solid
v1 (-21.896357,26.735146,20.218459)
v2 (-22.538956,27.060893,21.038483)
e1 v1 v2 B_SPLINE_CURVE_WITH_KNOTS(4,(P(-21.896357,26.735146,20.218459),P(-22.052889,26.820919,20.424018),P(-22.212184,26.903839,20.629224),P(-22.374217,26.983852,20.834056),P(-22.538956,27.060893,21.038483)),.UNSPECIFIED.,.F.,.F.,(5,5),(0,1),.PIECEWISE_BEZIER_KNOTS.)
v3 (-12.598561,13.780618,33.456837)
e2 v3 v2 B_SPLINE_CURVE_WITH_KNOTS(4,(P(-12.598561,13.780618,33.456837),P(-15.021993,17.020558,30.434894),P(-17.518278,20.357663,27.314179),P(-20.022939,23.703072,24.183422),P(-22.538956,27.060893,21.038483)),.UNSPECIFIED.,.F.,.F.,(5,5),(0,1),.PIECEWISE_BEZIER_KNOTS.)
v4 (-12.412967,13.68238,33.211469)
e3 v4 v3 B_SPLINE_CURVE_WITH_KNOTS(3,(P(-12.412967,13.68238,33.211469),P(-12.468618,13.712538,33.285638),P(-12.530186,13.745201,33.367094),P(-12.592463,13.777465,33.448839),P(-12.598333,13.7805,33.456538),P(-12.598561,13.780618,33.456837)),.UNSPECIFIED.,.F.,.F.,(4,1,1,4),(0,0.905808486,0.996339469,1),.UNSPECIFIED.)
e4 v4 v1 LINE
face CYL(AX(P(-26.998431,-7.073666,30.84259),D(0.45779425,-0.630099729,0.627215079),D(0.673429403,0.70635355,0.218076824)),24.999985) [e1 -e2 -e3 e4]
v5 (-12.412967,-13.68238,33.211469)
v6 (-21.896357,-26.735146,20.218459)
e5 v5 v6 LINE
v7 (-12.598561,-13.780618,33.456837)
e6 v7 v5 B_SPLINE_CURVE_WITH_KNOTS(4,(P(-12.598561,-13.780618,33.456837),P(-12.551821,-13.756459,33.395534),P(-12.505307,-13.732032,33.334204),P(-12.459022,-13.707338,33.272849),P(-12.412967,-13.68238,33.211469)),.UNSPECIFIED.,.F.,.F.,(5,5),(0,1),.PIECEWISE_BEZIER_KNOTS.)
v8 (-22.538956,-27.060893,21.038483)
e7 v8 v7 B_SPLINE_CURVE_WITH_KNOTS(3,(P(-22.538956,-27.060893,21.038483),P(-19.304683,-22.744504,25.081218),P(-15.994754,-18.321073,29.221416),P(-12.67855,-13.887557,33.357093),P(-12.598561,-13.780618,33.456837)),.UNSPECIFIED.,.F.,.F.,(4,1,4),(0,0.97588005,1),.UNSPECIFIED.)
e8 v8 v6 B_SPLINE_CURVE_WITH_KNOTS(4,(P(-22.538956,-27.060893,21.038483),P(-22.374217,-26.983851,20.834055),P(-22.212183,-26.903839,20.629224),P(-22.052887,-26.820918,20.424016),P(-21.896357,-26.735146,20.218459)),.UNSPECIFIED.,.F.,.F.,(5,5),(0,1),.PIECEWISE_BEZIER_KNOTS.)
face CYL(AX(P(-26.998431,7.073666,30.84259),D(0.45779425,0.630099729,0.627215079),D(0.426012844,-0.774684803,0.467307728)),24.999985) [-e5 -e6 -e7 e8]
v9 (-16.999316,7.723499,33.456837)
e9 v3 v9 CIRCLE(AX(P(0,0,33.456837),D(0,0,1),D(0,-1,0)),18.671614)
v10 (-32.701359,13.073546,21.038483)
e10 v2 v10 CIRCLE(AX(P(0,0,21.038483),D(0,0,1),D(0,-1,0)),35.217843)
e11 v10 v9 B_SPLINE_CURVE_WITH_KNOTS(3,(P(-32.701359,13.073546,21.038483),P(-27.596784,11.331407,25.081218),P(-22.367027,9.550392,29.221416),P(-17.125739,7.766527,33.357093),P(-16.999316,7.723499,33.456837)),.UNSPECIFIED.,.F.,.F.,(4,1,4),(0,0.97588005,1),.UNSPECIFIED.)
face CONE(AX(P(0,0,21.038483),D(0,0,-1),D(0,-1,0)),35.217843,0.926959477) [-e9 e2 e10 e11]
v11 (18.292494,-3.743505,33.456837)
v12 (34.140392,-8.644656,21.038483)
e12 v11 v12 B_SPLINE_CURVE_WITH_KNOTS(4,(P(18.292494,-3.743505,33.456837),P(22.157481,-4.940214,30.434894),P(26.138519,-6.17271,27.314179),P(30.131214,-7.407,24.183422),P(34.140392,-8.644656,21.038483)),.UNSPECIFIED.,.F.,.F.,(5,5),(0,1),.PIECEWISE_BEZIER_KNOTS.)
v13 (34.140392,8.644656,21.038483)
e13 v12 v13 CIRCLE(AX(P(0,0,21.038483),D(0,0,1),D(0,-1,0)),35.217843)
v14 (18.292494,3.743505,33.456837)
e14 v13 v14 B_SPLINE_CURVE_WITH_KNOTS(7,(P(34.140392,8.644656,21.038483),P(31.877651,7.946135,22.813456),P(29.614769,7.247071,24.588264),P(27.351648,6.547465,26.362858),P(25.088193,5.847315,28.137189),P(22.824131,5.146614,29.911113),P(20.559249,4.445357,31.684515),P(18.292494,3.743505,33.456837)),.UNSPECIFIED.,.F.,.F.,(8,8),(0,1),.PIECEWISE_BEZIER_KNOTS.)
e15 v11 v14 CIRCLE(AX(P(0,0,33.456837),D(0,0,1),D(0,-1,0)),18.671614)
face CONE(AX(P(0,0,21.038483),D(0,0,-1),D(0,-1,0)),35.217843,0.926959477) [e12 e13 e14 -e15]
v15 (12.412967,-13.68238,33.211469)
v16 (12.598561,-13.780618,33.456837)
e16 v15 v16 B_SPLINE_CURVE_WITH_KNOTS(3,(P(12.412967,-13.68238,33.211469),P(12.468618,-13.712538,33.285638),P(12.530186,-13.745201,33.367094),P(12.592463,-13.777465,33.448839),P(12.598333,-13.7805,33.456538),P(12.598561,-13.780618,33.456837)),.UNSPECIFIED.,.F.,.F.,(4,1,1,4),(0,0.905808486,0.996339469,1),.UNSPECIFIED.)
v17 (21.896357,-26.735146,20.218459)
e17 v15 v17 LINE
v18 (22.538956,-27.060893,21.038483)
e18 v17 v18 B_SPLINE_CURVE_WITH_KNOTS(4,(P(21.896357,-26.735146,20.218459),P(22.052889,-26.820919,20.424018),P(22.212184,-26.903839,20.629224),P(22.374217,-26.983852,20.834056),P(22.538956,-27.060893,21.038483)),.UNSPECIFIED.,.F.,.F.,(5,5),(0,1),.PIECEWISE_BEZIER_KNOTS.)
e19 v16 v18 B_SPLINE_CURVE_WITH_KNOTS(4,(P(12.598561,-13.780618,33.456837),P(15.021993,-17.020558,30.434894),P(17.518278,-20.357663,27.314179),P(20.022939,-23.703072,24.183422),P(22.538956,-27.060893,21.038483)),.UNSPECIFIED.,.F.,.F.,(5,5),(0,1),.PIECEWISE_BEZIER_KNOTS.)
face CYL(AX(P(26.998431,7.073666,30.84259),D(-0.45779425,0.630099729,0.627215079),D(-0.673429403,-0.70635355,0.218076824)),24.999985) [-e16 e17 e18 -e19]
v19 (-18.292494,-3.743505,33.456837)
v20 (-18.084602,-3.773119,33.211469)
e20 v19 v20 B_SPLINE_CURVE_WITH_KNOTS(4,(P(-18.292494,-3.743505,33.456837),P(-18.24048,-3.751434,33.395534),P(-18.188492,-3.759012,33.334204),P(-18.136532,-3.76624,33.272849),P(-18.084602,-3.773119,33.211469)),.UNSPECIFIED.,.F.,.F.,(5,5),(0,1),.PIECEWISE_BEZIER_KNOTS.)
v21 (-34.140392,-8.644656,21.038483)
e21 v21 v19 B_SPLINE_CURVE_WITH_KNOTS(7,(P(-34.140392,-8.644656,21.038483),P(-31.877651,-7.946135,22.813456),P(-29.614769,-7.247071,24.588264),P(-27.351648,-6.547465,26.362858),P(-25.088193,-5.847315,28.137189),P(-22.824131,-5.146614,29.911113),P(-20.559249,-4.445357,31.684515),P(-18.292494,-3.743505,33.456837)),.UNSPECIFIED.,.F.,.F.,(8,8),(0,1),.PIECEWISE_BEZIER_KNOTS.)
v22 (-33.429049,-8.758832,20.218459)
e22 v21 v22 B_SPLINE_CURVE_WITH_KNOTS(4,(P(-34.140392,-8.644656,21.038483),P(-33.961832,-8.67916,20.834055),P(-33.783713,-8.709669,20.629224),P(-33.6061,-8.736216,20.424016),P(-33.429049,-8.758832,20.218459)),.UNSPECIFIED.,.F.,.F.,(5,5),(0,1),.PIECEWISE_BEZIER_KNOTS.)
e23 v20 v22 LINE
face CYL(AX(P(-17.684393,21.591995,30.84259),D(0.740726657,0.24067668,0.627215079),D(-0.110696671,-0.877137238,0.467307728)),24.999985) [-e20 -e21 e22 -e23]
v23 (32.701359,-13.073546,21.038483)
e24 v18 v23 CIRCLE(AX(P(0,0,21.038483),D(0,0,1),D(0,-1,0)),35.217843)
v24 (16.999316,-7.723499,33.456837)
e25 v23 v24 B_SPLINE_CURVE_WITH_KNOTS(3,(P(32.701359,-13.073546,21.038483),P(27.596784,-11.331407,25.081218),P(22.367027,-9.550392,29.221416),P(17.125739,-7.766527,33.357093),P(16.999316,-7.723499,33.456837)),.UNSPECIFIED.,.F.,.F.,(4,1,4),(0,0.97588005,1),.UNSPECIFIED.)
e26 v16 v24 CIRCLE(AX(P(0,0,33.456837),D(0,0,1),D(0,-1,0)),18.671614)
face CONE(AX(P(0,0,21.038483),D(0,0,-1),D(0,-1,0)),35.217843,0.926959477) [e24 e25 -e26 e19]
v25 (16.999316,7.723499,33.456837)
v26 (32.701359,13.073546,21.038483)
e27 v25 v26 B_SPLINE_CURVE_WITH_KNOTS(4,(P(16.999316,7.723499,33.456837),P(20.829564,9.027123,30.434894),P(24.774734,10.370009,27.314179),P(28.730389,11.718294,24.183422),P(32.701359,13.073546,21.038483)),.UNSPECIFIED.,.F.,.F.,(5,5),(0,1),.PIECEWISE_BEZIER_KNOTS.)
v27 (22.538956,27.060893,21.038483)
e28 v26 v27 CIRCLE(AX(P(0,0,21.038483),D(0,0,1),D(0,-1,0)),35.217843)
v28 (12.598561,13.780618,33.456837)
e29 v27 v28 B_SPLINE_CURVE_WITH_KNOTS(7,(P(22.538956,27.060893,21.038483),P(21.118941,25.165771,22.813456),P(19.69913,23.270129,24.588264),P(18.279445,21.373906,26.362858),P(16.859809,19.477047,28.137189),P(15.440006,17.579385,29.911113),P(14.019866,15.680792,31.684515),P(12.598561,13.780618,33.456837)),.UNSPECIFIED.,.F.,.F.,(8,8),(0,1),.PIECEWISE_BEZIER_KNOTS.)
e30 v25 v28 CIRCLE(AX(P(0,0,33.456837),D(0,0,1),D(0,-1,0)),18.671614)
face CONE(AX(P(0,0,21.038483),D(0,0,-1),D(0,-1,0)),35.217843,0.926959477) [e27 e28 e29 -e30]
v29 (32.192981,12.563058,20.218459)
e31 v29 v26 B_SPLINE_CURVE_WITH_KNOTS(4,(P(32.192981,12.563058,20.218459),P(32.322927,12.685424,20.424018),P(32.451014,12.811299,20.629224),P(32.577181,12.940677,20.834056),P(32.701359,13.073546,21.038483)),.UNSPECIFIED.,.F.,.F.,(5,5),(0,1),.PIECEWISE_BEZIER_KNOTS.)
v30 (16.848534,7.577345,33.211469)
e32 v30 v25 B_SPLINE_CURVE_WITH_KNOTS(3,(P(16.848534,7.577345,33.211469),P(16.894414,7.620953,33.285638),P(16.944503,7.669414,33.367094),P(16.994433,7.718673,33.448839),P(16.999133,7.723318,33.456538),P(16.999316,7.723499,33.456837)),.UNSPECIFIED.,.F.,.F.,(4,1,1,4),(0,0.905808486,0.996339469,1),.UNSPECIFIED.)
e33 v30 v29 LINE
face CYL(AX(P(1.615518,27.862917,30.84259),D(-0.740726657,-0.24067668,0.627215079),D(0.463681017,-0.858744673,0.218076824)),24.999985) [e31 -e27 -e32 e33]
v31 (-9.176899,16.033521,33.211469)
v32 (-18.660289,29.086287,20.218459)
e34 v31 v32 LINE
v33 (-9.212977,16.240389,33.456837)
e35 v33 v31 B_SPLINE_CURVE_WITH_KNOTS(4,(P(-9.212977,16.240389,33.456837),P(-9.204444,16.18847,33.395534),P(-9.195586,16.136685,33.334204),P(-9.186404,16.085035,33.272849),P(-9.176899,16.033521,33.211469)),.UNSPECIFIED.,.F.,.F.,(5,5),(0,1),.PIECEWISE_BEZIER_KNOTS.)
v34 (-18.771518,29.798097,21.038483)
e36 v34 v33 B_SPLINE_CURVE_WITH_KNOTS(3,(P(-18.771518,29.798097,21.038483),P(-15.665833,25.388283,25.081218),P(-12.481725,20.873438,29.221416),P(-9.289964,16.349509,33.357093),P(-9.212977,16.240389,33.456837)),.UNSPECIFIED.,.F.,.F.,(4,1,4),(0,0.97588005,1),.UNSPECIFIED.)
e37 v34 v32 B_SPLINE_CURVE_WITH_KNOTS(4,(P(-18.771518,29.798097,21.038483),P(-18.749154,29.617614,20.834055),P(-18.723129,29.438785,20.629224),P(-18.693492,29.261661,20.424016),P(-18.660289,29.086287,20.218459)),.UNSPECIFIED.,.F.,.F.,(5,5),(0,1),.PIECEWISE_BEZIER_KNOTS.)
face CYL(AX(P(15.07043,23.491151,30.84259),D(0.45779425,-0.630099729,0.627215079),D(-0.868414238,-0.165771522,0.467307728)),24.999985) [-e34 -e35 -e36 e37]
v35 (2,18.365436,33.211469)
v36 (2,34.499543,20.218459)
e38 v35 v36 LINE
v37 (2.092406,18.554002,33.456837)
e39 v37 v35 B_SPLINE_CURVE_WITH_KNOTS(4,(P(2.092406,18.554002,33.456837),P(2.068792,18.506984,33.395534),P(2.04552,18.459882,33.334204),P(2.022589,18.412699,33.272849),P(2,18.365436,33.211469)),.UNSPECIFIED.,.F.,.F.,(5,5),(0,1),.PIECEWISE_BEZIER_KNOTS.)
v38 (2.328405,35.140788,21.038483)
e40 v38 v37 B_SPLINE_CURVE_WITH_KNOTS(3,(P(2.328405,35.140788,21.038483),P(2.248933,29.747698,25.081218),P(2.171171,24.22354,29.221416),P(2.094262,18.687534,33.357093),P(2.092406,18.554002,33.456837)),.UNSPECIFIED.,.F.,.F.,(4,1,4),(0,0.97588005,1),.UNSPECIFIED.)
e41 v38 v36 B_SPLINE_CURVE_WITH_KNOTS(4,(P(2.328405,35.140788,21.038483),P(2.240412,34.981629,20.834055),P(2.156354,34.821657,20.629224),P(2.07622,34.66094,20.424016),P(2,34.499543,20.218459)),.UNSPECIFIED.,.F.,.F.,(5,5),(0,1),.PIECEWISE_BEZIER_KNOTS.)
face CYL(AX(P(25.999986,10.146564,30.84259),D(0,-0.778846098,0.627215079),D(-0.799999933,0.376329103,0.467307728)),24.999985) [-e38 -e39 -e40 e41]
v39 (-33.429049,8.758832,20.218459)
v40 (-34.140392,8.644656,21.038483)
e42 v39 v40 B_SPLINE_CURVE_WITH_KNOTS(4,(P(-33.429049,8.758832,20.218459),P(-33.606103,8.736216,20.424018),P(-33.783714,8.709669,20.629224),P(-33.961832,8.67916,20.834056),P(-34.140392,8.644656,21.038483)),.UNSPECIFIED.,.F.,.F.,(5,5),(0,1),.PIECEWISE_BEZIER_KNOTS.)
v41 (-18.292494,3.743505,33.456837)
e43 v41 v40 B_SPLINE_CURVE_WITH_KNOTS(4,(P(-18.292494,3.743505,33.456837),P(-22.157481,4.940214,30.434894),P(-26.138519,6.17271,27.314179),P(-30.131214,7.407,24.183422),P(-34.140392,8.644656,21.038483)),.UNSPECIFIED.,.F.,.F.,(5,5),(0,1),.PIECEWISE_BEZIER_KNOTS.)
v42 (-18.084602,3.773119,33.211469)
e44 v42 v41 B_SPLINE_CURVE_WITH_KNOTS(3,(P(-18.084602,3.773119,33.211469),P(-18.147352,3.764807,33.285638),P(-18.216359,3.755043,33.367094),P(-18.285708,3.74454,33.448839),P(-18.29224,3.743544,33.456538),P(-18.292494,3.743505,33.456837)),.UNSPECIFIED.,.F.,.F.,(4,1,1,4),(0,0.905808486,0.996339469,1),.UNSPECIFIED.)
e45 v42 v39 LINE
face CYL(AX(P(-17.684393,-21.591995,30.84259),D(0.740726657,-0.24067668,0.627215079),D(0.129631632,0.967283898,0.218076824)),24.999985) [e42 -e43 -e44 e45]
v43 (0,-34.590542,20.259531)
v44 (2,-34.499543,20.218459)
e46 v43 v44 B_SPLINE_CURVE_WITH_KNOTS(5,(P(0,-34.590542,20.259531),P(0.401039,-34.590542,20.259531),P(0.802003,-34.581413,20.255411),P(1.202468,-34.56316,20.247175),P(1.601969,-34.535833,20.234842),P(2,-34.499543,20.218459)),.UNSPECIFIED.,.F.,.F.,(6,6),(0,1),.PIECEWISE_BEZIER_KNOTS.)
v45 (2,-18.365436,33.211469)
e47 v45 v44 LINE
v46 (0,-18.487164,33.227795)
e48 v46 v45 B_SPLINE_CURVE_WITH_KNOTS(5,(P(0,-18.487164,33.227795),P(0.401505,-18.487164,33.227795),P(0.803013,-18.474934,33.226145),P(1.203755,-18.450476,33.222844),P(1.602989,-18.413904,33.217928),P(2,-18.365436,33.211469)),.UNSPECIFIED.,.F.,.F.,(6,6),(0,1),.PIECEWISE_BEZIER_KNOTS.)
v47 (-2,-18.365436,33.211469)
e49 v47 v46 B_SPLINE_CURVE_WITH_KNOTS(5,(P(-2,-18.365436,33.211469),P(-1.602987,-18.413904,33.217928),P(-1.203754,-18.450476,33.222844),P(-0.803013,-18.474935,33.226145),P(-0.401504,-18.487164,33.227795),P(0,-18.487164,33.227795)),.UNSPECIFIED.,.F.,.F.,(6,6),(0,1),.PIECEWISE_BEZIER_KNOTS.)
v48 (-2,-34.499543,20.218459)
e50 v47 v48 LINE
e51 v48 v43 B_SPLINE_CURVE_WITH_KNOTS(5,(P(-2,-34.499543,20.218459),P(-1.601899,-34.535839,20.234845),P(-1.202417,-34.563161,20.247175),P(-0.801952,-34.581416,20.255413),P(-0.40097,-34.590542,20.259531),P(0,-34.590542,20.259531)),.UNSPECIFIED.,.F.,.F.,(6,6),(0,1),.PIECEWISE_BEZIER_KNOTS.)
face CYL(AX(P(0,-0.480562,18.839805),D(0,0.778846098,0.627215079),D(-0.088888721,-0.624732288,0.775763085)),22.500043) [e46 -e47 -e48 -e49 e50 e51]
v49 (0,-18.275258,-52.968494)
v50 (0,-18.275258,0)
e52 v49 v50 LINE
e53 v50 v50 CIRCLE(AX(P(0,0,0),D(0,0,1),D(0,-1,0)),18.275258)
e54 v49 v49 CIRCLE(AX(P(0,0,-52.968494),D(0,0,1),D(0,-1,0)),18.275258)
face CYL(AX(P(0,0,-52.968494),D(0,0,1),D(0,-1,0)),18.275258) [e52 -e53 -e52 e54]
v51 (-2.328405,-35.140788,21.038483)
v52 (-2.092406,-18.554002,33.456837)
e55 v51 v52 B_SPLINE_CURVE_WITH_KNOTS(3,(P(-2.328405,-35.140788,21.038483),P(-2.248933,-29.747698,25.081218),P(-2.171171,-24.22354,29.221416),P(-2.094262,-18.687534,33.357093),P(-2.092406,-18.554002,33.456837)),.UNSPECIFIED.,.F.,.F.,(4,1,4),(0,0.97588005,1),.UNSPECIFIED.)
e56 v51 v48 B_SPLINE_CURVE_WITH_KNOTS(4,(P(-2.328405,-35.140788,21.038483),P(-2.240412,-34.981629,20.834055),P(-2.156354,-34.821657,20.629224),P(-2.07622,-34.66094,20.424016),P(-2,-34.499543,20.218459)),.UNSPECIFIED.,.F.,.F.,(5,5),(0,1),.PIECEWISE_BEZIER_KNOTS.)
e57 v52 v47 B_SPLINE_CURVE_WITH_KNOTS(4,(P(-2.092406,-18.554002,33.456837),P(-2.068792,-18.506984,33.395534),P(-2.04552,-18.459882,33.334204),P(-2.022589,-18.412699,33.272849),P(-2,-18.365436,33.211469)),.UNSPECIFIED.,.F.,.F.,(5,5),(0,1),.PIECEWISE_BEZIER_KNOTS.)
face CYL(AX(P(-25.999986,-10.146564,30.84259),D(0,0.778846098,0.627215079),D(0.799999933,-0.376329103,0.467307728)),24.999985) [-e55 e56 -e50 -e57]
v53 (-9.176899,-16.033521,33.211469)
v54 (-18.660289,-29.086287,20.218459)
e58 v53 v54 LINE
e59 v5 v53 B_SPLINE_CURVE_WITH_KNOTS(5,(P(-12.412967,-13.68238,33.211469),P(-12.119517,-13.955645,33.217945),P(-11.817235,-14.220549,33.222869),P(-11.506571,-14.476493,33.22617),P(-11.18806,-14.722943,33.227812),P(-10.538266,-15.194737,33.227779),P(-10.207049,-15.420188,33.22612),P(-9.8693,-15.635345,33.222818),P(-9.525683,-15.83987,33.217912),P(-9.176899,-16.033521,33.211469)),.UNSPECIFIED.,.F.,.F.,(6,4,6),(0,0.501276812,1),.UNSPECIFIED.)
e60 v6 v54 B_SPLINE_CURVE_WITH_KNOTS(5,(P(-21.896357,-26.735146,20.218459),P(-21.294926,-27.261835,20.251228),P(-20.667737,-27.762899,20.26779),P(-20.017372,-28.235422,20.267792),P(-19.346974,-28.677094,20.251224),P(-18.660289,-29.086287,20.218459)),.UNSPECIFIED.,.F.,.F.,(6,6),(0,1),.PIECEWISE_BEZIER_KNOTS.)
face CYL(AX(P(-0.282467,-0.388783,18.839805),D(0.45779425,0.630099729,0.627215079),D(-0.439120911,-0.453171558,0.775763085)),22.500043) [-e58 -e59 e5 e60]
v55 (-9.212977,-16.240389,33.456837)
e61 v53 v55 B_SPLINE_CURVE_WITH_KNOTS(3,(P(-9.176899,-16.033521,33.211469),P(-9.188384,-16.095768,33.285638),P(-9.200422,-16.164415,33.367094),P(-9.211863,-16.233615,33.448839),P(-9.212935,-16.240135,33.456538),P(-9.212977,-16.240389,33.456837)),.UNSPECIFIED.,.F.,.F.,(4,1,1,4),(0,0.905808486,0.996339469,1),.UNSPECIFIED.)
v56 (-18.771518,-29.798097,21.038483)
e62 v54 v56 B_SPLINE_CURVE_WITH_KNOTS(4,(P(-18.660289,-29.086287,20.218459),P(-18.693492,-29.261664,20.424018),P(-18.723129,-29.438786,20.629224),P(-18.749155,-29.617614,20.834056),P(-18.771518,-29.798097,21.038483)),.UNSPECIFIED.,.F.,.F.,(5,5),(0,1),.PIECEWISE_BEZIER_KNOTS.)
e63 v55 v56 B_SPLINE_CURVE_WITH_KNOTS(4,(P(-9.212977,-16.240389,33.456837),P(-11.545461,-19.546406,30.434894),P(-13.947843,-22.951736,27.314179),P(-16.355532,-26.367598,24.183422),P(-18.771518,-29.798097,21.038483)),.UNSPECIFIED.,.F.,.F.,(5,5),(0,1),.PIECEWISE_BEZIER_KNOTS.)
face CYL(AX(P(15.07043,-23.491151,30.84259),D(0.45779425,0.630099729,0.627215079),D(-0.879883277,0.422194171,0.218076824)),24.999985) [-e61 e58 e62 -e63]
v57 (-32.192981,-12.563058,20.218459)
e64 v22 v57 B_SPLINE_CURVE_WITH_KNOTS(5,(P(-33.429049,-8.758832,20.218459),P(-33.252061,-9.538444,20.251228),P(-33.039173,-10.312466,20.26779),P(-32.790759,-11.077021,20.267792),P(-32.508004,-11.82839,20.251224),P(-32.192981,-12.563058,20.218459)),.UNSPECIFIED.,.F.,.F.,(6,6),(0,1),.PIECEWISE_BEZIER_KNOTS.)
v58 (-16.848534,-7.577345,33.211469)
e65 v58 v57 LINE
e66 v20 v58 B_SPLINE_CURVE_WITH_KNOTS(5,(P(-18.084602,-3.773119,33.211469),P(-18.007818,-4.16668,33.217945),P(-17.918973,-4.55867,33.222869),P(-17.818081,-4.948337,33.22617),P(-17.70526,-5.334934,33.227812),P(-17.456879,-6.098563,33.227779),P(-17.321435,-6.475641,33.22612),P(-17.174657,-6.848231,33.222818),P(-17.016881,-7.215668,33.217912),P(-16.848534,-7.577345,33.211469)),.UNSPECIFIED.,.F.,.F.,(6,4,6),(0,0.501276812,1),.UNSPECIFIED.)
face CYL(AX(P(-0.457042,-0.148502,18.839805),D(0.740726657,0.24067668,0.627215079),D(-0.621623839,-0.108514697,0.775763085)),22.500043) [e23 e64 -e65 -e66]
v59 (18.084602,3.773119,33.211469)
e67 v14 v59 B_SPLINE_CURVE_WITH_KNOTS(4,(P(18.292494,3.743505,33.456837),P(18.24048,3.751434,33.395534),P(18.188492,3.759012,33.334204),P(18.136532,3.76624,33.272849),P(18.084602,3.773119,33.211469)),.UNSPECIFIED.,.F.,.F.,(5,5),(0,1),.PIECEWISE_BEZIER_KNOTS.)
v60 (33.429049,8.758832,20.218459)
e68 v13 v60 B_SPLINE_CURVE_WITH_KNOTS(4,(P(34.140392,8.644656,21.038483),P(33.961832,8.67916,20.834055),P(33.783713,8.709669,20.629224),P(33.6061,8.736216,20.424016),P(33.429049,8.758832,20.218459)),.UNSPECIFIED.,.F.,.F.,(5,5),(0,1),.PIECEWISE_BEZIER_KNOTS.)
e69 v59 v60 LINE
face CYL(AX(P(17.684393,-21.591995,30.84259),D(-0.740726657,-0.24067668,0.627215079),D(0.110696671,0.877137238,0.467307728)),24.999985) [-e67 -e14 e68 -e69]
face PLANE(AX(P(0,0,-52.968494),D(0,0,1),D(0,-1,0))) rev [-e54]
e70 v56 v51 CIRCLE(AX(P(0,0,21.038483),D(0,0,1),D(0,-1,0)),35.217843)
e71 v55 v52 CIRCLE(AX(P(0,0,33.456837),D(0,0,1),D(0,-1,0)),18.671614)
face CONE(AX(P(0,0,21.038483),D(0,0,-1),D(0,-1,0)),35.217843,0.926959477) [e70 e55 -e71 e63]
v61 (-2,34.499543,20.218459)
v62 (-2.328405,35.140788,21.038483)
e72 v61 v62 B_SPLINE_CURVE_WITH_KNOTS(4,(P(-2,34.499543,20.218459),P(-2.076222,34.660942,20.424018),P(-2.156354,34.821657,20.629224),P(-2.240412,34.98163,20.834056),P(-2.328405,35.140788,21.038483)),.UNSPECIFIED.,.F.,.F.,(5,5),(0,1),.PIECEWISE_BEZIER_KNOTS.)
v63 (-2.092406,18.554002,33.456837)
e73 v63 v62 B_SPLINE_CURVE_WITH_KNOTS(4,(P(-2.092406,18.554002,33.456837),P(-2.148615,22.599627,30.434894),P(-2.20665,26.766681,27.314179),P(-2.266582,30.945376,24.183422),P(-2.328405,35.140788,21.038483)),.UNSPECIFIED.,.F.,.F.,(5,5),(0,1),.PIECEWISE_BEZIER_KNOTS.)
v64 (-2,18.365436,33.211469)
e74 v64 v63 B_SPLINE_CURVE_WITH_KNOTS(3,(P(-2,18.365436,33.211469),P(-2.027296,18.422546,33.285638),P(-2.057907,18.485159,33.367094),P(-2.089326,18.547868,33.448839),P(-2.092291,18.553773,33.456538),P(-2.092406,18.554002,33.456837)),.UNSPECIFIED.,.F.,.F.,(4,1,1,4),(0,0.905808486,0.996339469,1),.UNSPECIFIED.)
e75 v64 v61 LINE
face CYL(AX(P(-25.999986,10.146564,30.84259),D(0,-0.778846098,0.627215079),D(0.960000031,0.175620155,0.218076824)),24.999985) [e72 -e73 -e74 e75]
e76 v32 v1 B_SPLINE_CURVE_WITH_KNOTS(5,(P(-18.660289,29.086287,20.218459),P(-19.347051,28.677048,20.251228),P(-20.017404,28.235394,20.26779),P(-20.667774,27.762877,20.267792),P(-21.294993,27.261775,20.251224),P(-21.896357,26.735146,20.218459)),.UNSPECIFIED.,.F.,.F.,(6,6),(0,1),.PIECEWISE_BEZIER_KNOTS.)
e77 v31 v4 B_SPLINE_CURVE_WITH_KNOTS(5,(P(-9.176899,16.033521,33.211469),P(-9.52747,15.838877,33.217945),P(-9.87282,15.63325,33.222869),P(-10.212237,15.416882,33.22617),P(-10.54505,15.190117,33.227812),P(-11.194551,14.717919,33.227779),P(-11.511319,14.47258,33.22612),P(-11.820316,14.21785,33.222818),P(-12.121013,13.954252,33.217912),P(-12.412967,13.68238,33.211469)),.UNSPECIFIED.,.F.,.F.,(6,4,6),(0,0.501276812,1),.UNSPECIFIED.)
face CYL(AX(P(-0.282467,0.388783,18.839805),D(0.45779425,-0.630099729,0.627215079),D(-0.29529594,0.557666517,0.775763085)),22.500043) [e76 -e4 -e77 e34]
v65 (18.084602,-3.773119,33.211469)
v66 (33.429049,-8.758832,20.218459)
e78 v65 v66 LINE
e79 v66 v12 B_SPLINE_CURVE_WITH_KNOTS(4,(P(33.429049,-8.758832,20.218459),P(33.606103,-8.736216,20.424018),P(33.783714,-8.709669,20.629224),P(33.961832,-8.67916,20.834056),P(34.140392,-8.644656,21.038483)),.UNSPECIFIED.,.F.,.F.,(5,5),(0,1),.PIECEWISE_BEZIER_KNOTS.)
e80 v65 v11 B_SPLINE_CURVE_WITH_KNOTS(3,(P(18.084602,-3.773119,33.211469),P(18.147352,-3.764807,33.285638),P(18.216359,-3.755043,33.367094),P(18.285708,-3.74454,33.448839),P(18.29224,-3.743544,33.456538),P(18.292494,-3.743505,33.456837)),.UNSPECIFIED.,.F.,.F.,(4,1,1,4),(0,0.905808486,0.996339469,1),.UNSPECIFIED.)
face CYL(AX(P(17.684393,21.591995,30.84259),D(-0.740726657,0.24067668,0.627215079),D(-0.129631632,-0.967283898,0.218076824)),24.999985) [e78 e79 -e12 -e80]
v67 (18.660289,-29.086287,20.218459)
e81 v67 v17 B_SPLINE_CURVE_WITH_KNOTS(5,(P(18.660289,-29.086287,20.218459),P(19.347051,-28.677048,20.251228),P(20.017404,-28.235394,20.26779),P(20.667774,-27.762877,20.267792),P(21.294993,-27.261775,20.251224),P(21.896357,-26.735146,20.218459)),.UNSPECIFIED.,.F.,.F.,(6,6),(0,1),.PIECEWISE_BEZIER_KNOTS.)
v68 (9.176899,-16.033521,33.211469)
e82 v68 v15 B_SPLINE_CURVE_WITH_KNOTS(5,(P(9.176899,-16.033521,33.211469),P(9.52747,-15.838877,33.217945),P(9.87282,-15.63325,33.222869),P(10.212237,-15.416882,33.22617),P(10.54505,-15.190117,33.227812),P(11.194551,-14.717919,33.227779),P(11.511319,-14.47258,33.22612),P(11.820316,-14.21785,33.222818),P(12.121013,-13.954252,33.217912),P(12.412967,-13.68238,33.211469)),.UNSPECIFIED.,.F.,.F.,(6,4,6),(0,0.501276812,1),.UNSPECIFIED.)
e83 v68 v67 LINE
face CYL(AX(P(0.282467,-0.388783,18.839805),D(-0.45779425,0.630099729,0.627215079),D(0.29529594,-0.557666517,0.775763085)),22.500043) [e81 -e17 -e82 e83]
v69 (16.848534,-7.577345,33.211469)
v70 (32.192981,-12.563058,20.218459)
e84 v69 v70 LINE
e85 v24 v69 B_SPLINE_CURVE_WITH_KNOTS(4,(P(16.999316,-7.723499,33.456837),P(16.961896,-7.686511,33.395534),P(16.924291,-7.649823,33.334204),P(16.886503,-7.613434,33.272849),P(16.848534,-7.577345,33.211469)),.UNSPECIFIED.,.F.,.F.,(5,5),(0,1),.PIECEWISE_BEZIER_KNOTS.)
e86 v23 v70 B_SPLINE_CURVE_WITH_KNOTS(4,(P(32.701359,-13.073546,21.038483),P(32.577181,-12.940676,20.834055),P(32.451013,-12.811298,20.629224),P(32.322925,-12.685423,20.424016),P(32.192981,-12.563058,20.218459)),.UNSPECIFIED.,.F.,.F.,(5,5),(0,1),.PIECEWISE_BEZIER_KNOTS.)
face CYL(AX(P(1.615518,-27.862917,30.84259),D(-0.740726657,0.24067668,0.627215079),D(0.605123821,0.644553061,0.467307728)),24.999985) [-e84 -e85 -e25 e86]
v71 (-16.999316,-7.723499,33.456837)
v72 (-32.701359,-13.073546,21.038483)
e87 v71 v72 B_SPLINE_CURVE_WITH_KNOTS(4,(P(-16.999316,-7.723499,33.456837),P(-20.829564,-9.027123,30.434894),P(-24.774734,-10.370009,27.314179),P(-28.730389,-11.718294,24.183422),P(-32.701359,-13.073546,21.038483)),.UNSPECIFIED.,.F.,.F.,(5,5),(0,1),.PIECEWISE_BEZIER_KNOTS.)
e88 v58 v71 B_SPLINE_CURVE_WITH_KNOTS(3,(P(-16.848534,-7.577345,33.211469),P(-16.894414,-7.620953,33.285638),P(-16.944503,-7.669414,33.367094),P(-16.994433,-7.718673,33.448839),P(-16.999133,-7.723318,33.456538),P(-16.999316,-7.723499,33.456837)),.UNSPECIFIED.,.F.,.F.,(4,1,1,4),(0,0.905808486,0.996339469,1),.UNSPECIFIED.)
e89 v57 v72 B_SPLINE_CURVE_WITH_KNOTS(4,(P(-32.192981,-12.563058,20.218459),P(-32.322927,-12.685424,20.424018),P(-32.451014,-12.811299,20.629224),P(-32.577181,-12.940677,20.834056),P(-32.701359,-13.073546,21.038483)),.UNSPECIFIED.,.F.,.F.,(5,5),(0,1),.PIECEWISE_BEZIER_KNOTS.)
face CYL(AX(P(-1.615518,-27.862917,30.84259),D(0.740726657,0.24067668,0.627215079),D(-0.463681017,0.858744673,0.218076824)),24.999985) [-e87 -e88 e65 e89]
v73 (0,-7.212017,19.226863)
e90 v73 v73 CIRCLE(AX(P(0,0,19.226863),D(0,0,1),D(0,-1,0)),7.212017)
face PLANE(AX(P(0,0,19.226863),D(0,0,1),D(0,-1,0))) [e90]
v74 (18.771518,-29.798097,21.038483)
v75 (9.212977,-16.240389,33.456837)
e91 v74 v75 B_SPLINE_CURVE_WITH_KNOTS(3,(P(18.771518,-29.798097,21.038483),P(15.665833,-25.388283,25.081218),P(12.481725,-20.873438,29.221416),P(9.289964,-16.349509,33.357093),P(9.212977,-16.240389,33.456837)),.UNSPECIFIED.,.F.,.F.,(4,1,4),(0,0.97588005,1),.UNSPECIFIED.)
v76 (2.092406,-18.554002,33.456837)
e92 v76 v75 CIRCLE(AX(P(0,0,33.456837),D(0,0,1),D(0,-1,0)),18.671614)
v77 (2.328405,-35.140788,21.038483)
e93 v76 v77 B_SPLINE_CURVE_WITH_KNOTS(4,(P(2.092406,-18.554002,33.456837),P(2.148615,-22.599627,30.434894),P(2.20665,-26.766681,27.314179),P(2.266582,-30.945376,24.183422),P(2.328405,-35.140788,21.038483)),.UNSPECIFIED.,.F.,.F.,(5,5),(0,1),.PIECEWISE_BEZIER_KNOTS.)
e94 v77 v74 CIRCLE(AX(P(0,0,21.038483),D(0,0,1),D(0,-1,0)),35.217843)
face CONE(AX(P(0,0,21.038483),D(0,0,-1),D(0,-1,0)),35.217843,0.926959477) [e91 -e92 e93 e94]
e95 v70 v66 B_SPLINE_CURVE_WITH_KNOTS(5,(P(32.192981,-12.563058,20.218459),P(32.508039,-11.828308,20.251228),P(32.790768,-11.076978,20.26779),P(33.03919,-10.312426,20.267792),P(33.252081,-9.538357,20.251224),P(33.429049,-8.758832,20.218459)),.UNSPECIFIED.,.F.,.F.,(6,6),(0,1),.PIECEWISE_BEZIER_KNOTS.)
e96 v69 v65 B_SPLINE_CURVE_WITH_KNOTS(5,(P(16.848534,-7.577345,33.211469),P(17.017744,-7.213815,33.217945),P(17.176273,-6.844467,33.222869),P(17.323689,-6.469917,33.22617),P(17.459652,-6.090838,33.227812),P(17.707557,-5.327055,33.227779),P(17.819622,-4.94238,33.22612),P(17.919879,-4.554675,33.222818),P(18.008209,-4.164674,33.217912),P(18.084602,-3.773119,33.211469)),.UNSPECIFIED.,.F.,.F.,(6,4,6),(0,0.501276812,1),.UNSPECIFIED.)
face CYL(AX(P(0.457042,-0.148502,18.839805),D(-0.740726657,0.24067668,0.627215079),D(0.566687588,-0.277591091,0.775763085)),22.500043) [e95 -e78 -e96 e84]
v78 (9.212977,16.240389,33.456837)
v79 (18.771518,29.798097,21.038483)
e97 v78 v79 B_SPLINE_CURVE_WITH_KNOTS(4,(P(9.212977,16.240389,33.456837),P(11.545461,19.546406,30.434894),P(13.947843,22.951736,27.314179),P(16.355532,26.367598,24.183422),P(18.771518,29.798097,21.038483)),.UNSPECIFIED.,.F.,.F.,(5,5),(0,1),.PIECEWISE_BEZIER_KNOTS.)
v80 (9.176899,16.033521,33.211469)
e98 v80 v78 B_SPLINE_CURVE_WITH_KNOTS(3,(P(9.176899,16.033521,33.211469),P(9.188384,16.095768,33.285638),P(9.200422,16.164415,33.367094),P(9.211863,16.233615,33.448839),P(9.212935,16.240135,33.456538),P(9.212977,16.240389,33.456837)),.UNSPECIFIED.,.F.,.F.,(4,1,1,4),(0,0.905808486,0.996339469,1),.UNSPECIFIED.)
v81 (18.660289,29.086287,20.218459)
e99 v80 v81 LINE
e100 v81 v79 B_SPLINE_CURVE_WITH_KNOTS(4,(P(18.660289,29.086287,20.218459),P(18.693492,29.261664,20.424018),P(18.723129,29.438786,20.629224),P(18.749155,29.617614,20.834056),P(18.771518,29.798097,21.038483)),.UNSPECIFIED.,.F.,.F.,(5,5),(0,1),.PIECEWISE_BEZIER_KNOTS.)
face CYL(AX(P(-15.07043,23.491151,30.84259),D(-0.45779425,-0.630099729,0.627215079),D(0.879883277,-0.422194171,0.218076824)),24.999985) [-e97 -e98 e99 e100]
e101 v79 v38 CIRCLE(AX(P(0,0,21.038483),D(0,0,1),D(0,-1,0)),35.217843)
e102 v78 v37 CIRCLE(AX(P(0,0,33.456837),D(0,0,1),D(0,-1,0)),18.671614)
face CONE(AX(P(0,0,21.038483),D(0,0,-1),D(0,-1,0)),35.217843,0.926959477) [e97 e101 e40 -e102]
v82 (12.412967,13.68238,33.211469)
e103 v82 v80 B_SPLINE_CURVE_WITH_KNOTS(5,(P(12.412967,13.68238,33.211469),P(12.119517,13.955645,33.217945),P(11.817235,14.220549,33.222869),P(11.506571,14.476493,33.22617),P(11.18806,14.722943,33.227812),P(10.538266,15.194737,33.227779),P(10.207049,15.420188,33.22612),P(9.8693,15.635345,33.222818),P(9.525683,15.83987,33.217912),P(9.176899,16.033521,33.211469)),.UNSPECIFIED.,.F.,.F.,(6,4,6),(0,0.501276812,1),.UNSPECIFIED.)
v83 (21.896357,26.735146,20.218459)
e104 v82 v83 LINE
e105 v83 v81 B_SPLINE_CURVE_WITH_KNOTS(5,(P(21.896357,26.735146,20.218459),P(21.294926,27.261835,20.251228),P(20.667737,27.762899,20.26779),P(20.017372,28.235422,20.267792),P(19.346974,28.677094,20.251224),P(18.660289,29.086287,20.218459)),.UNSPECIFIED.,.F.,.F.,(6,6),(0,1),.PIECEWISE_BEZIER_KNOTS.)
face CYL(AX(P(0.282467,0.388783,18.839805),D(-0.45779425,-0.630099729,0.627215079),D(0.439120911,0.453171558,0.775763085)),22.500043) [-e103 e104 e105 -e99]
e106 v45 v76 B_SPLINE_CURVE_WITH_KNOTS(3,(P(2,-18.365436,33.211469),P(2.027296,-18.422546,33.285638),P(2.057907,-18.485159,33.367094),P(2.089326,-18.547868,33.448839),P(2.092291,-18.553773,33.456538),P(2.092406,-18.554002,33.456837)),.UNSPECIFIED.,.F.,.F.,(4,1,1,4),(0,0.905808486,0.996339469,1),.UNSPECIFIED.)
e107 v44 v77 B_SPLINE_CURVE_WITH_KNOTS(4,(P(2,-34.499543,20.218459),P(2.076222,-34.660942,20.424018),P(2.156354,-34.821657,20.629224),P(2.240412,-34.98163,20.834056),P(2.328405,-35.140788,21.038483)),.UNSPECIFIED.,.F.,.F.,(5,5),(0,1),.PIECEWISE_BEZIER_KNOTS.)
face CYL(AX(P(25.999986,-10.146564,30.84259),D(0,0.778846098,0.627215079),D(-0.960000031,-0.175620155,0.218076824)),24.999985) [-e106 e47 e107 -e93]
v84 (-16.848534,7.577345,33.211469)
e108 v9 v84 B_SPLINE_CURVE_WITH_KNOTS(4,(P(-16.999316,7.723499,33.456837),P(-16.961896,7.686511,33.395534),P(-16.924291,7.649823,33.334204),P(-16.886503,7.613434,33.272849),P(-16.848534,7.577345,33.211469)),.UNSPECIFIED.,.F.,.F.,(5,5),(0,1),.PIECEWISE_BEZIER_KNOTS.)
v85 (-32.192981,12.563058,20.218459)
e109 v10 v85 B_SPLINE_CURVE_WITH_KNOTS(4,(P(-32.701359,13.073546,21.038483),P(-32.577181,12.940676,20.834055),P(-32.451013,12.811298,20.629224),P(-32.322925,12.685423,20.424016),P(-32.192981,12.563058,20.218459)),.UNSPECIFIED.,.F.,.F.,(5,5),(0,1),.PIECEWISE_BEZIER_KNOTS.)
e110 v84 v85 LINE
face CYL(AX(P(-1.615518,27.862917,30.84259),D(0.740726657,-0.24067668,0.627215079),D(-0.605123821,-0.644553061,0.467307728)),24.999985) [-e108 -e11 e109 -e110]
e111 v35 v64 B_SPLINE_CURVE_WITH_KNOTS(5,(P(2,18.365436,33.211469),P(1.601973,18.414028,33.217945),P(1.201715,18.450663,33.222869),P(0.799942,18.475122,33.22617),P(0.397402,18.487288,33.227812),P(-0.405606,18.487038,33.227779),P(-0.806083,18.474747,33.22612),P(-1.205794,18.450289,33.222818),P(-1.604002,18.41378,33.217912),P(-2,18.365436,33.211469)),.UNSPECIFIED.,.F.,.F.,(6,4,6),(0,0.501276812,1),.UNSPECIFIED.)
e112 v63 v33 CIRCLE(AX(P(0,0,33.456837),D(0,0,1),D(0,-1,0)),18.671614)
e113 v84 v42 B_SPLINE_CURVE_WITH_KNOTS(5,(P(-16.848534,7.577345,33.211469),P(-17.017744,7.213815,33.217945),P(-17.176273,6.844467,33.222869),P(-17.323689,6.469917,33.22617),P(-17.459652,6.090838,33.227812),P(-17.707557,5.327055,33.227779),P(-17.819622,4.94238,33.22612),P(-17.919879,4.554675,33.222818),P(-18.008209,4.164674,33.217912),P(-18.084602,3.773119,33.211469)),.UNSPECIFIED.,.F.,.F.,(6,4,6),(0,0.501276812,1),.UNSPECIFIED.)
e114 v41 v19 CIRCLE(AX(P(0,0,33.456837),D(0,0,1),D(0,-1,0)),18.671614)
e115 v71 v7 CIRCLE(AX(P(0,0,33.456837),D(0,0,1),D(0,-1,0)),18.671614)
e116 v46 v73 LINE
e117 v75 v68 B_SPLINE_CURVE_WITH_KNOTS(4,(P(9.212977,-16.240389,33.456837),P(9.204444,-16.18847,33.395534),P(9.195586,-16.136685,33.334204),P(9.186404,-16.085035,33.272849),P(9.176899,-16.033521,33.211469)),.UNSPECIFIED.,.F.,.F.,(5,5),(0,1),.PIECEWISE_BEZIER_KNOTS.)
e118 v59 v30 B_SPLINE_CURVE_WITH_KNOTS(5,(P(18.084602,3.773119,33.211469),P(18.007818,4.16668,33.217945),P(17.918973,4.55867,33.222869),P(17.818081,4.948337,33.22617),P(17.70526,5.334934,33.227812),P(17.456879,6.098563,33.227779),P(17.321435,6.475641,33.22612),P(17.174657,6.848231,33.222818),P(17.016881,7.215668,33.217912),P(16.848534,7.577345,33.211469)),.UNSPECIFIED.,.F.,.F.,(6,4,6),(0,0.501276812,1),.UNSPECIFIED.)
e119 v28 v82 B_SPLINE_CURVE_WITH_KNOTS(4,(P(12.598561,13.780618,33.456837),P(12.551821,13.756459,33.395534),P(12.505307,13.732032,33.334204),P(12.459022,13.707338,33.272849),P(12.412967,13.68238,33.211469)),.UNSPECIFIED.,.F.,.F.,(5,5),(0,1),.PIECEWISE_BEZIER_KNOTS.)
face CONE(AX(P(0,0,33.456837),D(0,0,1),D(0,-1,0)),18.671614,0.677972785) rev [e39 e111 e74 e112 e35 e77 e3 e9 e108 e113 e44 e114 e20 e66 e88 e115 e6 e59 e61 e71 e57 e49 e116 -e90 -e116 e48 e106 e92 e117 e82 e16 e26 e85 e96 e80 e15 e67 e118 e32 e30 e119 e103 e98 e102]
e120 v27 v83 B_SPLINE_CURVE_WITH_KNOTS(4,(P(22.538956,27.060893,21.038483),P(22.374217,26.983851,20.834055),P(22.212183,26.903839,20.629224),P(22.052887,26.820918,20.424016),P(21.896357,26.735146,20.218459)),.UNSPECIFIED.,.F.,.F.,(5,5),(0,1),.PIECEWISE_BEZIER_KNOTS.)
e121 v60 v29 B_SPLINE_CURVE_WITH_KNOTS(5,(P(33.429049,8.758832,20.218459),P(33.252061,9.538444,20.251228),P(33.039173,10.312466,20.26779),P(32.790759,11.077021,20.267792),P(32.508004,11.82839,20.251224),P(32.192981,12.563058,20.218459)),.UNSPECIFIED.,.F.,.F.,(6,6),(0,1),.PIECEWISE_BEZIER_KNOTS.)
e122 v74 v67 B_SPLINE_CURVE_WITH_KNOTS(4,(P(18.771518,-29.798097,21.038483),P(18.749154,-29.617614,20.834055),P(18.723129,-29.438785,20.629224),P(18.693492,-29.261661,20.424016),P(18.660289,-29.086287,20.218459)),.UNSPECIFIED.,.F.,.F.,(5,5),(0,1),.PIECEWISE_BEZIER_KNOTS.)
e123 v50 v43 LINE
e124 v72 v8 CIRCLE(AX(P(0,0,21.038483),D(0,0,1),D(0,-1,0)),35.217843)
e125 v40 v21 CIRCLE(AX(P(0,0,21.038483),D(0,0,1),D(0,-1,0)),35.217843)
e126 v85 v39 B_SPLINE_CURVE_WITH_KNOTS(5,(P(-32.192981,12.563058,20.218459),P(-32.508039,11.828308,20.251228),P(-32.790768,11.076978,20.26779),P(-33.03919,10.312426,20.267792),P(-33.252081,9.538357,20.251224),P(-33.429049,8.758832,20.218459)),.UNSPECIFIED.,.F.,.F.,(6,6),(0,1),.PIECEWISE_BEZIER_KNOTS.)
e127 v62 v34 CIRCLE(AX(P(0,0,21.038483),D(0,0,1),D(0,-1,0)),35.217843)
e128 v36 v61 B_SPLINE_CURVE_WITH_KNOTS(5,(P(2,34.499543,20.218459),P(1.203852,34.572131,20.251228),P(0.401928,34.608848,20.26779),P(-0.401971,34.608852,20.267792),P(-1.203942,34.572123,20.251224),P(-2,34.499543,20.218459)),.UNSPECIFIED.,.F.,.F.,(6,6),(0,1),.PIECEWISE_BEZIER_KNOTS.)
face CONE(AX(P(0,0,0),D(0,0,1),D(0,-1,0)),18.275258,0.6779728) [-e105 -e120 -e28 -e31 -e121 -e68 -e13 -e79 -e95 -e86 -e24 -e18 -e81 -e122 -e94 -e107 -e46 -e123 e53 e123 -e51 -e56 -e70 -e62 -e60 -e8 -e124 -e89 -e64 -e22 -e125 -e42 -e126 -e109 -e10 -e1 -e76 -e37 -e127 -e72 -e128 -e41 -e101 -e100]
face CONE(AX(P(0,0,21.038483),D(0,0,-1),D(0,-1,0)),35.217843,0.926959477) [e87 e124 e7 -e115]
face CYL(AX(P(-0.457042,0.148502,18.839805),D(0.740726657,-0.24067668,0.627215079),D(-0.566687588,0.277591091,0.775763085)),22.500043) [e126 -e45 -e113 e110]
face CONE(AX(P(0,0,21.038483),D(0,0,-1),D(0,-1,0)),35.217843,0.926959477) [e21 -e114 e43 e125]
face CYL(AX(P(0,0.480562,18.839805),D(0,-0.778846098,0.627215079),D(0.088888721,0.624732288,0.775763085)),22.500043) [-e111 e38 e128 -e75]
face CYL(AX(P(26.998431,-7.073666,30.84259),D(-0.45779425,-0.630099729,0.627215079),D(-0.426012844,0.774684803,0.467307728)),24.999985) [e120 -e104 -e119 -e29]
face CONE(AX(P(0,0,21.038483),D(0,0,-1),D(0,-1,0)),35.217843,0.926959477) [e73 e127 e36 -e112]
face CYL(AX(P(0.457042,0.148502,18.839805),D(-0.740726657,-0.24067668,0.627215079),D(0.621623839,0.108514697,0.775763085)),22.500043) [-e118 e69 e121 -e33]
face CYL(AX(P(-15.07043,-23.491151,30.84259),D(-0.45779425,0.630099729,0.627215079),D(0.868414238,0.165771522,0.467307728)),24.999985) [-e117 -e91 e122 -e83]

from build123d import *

# Parameters (mm, degrees)
POCKET001_DEPTH    = 335.850526
POLARPATTERN_COUNT = 10


with BuildPart() as part:
    # Sketch003 (on Sketch) → Revolution (revolve)
    with BuildSketch(Plane.YZ):
        Polygon((0, -52.968494), (-18.275258, -52.968494), (-18.275258, 0), (-35.217843, 21.038483), (-18.671614, 33.456837), (-7.212017, 19.226863), (0, 19.226863), align=None)
    revolve(axis=Axis((0, 0, 0), (0, 0, 1)))

    # Sketch004 (on Vertex5 of Revolution) → Pocket001 (cut, through all)
    with BuildSketch(Plane(origin=(0, -5.199434, 24.699477), x_dir=(-1, 0, 0), z_dir=(0, 0.778846, 0.627215))):
        with BuildLine():
            ThreePointArc((2, 14.887447), (0, 14.976512), (-2, 14.887447))
            ThreePointArc((-2, 14.887447), (-3.63932, 19.067787), (-6, 22.887447))
            ThreePointArc((6, 22.887447), (0, 23.473689), (-6, 22.887447))
            ThreePointArc((6, 22.887447), (3.63932, 19.067787), (2, 14.887447))
        make_face()
    pocket001 = extrude(amount=-POCKET001_DEPTH, mode=Mode.SUBTRACT)

    # PolarPattern: Pocket001 ×10 about axis
    polarpattern_axis = Axis((0, 0, 0), (0, 0, 1))
    for i in range(1, POLARPATTERN_COUNT):
        add(pocket001.rotate(polarpattern_axis, i * 360 / POLARPATTERN_COUNT), mode=Mode.SUBTRACT)


solid = part.part
